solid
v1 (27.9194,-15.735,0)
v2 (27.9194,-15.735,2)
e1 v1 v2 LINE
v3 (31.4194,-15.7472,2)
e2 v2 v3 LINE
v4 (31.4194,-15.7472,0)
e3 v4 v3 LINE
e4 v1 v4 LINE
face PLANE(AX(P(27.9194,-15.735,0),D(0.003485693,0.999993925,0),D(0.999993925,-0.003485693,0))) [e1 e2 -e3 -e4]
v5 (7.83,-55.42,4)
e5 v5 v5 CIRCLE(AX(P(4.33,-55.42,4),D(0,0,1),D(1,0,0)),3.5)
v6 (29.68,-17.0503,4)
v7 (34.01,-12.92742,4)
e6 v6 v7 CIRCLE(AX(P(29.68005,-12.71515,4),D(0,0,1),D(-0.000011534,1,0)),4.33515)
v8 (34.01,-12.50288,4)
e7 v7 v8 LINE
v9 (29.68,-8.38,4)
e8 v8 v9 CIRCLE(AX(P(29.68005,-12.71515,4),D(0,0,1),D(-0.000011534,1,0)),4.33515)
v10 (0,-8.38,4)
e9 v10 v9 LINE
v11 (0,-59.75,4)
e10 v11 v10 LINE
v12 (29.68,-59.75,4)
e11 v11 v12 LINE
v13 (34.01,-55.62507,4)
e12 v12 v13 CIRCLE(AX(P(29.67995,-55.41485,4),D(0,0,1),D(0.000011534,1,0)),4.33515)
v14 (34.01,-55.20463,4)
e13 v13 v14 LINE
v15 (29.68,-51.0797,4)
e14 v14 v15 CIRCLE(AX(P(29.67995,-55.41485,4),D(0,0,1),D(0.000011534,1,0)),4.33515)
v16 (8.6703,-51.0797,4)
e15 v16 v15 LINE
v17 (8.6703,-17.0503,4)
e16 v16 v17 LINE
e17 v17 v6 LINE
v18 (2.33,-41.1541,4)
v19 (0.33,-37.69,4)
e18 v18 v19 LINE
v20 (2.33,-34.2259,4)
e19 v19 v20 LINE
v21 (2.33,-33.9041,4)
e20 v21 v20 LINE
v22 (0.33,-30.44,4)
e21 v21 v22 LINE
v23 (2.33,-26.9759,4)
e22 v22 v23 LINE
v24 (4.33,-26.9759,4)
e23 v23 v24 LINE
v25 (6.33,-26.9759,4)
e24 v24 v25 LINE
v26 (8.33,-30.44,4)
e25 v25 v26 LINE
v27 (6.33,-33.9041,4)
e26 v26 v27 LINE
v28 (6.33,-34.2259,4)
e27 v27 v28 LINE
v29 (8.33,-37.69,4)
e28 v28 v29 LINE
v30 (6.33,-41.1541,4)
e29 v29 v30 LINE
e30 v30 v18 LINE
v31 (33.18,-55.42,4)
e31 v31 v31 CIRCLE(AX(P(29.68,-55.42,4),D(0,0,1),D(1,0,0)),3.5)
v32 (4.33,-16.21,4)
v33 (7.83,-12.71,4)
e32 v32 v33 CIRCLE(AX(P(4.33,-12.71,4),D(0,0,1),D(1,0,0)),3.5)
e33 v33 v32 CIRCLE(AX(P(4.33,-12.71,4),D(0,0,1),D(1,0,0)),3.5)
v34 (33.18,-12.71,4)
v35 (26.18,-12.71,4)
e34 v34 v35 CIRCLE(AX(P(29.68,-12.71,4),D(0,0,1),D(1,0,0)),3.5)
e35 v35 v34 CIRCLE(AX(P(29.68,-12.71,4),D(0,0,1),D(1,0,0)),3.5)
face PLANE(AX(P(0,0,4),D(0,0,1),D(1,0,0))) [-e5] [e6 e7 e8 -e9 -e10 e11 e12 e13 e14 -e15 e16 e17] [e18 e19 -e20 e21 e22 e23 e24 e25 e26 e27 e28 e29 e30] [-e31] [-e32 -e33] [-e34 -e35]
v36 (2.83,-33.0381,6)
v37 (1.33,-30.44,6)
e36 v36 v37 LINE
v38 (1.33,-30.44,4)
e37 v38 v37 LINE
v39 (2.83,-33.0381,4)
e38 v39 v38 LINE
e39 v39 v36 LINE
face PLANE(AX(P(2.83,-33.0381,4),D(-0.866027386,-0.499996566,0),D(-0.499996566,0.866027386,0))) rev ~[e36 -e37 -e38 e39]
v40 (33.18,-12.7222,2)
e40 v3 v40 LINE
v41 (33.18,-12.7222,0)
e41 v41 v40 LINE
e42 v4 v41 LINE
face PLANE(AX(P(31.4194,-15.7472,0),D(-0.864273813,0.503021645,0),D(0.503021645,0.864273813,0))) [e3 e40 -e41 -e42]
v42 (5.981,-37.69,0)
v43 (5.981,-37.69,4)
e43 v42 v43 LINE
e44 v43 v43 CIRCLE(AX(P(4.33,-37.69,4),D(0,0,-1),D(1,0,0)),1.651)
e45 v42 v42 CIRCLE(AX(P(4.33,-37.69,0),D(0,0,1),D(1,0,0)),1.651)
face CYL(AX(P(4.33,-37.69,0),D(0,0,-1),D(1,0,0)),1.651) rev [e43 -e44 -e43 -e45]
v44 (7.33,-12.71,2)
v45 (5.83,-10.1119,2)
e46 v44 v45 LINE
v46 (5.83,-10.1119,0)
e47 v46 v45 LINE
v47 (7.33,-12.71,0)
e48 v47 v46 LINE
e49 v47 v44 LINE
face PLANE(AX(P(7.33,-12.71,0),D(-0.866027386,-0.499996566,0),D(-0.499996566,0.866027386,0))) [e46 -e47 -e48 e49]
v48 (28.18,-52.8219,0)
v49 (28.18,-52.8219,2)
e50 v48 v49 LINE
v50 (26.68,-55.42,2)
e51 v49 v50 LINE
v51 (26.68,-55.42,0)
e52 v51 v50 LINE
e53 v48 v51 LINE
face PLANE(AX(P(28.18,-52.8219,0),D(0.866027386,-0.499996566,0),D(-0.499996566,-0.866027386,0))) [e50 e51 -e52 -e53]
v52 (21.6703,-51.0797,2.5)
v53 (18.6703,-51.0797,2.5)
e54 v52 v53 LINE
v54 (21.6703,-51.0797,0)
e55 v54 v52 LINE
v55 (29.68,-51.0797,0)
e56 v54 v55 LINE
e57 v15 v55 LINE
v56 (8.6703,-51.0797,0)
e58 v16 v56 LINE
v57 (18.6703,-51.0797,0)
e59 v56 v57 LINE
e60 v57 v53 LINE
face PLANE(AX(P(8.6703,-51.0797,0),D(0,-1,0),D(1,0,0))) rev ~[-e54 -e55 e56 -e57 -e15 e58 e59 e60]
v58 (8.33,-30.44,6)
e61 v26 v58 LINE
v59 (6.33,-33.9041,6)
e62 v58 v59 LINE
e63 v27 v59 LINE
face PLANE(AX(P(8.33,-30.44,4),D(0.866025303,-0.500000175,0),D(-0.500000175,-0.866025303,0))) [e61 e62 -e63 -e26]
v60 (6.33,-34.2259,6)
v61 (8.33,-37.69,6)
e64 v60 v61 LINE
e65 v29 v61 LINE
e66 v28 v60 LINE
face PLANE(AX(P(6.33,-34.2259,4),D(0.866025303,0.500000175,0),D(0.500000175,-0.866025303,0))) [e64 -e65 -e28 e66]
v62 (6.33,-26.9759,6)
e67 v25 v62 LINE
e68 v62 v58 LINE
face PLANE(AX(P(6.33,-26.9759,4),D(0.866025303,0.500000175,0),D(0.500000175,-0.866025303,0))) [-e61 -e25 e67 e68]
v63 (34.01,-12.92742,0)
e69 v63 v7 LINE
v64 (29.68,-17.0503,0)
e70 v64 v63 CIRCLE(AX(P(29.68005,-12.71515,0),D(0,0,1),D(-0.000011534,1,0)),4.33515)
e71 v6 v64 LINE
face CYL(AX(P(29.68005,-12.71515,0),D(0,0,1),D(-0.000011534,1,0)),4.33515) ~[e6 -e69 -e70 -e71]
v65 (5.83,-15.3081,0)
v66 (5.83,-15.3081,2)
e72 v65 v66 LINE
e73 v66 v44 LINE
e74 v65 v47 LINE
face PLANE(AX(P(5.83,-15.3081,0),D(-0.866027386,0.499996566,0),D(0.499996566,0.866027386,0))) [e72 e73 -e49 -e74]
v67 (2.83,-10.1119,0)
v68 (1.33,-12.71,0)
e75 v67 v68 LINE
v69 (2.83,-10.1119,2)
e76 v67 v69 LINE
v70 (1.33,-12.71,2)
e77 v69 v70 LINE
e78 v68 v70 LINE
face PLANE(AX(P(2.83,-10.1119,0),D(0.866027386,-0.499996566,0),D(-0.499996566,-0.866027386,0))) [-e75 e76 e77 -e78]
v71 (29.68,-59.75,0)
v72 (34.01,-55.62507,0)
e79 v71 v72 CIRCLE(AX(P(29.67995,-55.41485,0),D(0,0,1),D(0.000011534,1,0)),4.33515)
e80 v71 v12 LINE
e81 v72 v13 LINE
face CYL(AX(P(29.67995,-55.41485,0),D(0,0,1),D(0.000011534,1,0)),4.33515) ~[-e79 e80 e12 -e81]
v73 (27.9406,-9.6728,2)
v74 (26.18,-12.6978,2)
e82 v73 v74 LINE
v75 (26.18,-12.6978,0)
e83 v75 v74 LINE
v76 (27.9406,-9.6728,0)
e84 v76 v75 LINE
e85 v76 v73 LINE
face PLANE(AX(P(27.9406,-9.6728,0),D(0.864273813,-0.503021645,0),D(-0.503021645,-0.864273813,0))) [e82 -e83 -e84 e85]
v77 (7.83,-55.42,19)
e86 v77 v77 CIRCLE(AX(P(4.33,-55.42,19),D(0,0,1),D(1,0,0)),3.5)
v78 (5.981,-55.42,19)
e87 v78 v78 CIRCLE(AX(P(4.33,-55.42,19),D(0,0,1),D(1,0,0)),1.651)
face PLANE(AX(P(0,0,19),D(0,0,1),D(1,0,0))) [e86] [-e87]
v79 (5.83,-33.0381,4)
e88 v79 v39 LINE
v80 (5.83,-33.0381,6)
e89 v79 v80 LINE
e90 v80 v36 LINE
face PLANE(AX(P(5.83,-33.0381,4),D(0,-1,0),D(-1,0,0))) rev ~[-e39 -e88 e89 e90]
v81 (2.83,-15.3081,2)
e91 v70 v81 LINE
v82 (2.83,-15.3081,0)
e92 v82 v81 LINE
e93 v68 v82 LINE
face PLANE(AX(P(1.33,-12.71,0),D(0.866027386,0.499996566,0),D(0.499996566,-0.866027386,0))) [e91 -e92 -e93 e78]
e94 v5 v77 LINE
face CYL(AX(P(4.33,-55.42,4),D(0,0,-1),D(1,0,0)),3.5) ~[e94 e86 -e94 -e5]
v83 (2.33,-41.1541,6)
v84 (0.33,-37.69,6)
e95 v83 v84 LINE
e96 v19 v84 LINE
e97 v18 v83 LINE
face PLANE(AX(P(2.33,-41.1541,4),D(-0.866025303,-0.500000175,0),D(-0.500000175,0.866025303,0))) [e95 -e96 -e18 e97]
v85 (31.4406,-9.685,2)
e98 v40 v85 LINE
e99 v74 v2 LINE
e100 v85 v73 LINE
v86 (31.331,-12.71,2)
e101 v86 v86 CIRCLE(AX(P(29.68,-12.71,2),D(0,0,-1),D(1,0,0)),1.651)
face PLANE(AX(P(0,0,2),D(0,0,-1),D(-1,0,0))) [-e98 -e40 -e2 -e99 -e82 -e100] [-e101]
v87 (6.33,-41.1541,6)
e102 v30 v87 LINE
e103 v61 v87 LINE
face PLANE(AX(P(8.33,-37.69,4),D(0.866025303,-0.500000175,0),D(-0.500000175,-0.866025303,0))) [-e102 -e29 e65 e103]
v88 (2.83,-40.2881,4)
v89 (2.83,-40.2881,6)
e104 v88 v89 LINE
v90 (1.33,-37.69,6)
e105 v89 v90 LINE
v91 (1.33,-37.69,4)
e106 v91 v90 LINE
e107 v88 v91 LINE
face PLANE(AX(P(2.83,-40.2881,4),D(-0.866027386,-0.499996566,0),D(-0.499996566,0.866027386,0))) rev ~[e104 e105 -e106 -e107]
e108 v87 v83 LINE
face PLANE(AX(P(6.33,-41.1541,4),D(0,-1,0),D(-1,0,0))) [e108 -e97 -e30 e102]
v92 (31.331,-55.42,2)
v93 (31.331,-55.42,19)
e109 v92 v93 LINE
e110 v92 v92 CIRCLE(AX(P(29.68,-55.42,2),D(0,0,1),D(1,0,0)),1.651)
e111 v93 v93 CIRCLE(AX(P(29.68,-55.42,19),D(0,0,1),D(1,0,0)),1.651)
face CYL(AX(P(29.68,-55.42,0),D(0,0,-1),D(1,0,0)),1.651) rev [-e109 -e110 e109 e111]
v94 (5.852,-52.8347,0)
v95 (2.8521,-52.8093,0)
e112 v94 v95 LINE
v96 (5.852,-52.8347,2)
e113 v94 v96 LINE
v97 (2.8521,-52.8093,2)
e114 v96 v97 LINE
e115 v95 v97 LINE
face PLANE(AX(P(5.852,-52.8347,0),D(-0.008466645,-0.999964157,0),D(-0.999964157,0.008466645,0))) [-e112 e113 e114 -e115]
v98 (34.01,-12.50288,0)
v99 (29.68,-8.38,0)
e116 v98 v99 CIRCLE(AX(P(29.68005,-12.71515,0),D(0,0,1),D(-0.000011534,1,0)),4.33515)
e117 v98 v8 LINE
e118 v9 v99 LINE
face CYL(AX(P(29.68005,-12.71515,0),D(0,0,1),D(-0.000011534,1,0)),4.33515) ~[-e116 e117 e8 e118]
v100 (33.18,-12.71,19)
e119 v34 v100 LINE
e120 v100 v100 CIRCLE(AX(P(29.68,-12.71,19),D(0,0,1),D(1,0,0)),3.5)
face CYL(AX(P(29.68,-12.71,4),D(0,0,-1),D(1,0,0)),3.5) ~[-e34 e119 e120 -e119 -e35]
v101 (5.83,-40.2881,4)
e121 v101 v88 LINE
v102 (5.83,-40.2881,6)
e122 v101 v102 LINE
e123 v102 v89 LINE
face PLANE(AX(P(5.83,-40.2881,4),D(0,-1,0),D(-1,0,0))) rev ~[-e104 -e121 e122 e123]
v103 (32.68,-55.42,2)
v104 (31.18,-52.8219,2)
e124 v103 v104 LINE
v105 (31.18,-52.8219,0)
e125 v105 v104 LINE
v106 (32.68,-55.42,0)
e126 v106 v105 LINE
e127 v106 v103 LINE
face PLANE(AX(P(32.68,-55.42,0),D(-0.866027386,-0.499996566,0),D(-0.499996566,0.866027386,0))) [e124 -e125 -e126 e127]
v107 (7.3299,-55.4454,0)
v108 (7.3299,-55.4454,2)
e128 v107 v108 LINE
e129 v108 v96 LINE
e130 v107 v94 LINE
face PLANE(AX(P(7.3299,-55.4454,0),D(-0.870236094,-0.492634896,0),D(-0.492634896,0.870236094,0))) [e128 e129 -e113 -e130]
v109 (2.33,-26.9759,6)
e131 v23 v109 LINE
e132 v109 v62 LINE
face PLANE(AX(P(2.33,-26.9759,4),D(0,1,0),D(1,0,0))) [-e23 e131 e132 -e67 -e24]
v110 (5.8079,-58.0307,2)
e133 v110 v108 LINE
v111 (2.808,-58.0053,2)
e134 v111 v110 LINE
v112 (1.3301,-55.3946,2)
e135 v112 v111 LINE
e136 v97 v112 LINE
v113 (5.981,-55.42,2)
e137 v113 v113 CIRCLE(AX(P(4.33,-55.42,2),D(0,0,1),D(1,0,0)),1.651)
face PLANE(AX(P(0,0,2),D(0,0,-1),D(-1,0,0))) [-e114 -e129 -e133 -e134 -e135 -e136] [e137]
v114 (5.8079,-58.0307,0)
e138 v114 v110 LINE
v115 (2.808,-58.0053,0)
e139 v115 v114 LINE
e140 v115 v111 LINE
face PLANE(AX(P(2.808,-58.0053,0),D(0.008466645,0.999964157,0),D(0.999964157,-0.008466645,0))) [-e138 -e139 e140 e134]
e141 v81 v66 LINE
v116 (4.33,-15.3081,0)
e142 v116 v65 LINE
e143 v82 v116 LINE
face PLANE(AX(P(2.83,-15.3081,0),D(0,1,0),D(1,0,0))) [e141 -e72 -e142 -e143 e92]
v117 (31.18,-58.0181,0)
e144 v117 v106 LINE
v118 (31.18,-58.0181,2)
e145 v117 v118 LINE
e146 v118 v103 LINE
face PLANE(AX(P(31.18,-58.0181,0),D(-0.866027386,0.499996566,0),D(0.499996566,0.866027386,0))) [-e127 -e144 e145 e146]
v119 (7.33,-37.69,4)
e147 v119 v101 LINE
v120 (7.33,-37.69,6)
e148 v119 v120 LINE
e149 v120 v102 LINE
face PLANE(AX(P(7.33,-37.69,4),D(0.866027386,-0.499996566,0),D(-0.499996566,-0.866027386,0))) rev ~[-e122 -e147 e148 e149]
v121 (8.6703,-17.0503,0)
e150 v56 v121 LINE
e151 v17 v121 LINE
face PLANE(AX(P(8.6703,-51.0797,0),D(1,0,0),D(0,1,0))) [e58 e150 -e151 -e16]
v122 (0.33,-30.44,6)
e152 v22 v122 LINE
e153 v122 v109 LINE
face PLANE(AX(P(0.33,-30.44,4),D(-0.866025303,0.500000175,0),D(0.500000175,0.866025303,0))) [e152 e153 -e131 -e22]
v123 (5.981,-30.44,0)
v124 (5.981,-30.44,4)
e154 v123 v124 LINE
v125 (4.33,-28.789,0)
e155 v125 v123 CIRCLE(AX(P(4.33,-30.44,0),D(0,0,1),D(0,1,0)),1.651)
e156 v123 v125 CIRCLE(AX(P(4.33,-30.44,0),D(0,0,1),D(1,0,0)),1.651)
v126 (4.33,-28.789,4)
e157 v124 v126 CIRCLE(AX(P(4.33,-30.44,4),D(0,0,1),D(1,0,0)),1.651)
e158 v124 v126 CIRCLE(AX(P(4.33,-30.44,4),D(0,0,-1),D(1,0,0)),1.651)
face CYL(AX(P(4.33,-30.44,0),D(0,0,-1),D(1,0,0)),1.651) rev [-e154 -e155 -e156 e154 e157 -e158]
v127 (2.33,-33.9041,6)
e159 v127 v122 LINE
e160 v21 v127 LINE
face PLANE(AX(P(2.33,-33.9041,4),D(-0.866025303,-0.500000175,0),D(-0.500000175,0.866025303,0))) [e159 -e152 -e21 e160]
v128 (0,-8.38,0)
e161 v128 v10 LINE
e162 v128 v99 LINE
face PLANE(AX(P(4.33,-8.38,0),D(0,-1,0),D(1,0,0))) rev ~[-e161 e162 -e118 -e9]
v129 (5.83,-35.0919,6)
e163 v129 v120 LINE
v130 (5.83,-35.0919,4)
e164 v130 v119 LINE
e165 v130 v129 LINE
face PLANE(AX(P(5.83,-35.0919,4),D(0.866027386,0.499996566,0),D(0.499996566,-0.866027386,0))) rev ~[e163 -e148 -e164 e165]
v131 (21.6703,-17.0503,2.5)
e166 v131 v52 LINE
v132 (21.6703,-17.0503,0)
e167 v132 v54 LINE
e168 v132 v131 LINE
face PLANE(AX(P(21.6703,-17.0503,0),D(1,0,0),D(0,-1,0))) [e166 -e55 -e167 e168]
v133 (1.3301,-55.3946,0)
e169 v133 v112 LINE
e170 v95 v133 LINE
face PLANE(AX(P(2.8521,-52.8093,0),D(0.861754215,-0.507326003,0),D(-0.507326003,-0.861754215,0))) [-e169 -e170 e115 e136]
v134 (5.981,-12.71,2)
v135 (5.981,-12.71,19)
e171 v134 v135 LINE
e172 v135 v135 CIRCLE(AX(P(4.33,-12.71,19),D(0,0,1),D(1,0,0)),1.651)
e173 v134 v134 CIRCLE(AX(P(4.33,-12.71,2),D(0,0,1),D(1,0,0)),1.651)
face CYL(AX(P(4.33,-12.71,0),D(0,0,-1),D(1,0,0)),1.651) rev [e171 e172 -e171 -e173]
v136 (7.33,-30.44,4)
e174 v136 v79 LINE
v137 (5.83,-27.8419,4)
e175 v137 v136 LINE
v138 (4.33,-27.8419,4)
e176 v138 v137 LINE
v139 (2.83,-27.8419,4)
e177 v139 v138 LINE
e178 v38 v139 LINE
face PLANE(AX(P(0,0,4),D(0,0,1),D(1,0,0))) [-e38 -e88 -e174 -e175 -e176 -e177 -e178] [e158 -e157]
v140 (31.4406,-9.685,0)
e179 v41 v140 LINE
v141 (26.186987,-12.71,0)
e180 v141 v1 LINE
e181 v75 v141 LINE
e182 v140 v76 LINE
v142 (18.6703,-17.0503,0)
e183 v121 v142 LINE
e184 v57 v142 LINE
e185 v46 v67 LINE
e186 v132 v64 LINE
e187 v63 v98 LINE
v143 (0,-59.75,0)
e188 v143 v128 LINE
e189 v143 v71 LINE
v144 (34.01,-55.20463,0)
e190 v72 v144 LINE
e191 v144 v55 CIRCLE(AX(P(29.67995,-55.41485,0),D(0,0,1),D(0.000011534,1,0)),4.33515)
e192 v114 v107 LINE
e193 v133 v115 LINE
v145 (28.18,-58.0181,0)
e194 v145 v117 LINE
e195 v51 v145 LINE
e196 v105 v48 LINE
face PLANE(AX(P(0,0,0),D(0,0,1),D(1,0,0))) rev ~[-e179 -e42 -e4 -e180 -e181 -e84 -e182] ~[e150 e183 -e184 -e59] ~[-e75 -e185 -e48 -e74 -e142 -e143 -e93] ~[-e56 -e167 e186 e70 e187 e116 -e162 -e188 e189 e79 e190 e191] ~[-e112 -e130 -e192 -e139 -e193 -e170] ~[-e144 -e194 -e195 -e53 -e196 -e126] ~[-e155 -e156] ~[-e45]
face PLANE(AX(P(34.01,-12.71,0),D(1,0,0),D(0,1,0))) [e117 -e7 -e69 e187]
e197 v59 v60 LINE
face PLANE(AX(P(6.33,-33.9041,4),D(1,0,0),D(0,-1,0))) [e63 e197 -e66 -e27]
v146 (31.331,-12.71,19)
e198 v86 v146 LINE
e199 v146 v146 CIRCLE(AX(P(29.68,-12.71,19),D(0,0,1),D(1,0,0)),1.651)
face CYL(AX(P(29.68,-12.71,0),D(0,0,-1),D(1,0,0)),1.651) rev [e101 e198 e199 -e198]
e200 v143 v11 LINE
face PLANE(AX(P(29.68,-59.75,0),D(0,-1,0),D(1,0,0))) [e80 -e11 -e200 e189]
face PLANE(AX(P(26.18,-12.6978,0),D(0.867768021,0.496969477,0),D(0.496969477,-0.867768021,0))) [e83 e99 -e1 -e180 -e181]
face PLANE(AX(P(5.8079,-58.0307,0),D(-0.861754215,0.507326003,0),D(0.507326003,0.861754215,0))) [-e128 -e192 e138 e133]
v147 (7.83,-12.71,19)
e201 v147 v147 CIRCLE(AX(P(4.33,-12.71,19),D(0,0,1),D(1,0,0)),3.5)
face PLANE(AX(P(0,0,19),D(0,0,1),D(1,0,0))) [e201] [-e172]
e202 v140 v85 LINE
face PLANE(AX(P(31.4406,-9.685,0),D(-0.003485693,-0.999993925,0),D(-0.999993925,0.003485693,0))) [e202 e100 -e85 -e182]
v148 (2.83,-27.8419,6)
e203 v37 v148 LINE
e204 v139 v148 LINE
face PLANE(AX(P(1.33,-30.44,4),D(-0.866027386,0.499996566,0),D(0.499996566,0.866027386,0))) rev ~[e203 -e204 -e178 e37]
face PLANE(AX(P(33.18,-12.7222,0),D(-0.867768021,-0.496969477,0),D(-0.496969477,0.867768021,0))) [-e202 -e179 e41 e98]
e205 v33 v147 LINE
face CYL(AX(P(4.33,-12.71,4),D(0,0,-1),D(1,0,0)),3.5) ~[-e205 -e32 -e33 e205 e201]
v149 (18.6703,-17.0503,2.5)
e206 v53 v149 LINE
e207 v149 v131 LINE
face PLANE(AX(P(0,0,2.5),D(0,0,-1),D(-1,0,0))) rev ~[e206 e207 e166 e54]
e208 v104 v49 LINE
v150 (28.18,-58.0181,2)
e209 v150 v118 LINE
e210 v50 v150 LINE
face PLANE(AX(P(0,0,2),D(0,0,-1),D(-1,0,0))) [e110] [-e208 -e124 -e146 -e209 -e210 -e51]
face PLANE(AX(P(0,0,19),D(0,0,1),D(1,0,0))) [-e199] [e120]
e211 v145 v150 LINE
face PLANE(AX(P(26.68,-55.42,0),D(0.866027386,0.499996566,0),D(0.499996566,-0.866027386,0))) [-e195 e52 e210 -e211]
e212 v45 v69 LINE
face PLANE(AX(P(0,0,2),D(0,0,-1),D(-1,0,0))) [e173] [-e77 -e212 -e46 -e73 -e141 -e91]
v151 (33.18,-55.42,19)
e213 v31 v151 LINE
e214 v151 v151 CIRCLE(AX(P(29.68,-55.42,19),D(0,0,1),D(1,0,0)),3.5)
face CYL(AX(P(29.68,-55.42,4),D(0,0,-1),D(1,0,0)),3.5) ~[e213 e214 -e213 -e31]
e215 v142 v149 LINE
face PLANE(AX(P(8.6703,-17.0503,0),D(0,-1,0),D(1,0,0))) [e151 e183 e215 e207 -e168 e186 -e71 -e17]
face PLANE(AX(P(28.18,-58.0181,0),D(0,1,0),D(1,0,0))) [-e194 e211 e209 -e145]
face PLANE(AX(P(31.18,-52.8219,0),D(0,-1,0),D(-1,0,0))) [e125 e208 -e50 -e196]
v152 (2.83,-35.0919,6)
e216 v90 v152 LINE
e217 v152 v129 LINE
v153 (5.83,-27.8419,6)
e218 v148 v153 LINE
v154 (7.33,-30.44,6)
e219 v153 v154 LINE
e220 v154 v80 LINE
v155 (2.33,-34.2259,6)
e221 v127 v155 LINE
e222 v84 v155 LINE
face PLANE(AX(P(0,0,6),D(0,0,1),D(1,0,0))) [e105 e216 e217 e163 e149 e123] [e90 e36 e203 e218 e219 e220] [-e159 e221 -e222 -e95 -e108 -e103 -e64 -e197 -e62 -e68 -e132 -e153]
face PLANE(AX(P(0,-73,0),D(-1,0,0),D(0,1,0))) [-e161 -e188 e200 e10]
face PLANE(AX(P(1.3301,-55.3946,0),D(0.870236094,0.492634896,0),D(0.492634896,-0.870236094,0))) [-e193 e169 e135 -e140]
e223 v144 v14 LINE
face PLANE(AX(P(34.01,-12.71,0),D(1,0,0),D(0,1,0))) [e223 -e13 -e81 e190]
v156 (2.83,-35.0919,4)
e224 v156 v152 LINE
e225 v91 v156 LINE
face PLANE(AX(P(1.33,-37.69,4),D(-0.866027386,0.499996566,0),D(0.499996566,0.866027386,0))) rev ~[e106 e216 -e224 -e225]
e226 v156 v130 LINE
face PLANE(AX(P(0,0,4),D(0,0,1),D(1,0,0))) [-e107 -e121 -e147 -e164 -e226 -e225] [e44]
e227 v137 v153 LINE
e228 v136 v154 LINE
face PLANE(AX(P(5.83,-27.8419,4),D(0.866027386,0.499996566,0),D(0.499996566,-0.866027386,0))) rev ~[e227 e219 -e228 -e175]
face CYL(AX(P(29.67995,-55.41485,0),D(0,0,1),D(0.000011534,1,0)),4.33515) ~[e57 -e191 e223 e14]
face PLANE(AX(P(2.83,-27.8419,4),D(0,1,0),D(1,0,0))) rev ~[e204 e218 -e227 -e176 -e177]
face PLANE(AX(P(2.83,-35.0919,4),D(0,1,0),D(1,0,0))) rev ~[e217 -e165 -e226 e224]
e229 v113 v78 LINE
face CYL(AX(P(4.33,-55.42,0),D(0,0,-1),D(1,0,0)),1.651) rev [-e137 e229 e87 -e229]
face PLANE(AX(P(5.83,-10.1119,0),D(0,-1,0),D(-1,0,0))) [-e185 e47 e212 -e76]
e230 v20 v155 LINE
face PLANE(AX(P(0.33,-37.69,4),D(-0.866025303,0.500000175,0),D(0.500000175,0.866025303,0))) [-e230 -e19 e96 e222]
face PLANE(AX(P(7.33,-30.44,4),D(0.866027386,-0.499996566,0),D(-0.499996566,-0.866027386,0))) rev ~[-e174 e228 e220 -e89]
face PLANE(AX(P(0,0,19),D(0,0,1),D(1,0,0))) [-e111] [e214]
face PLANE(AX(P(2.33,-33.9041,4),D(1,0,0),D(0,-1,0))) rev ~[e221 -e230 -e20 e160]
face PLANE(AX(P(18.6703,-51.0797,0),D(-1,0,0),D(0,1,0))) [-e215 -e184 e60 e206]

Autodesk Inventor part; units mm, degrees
ref_plane "YZ Plane" through (0, 0, 0) normal (1, 0, 0) x (0, 1, 0)
ref_plane "XZ Plane" through (0, 0, 0) normal (0, 1, 0) x (-1, 0, 0)
ref_plane "XY Plane" through (0, 0, 0) normal (0, 0, 1) x (1, 0, 0)
sketch "Sketch1" plane through (0, 0, 0) normal (0, 0, 1) x (1, 0, 0)
  line L0 (0, 0) -> (41.5, 0)
  line L1 (41.5, 0) -> (41.5, -73)
  line L2 (41.5, -73) -> (0, -73)
  line L3 (0, -73) -> (0, 0)
  line L4 (0, -73) -> (3.11, -73)
  line L5 (0, -73) -> (3.11, -73) construction
  line L6 (3.11, -73) -> (3.11, -69.85)
  line L7 (3.11, -73) -> (6.26, -73) construction
  line L8 (3.11, -69.85) -> (14.54, -69.85)
  line L9 (14.54, -69.85) -> (19.65, -69.85)
  line L10 (19.65, -69.85) -> (31.08, -69.85)
  circle A0 centre (3.11, -69.85) radius 1.6
  circle A1 centre (14.54, -69.85) radius 1.6
  circle A2 centre (19.65, -69.85) radius 1.6
  circle A3 centre (31.08, -69.85) radius 1.6
  line L11 (3.11, -69.85) -> (3.11, -55.42)
  line L12 (3.11, -69.85) -> (17.54, -69.85) construction
  line L13 (0, -73) -> (4.33, -73)
  line L14 (0, -73) -> (4.33, -73) construction
  line L15 (4.33, -73) -> (4.33, -53.49)
  line L16 (3.11, -55.42) -> (6.6479, -55.42)
  circle A4 centre (4.33, -55.42) radius 1.651
  line L17 (4.33, -55.42) -> (4.33, -37.69)
  line L18 (4.33, -55.42) -> (22.06, -55.42) construction
  line L19 (4.33, -55.42) -> (29.68, -55.42)
  line L20 (4.33, -55.42) -> (29.68, -55.42) construction
  circle A5 centre (4.33, -37.69) radius 1.651
  circle A6 centre (29.68, -55.42) radius 1.651
  line L21 (4.33, -37.69) -> (39.0376, -37.69)
  line L22 (29.68, -55.42) -> (29.68, -25.3245)
  circle A7 centre (29.68, -37.69) radius 1.651
  line L23 (4.33, -37.69) -> (4.33, -30.44)
  line L24 (4.33, -37.69) -> (11.58, -37.69) construction
  line L25 (4.33, -30.44) -> (4.33, -12.71)
  line L26 (4.33, -30.44) -> (29.68, -30.44)
  line L27 (4.33, -30.44) -> (29.68, -30.44) construction
  line L28 (4.33, -12.71) -> (29.68, -12.71)
  circle A8 centre (29.68, -12.71) radius 1.651
  circle A9 centre (4.33, -12.71) radius 1.651
  circle A10 centre (4.33, -30.44) radius 1.651
  circle A11 centre (29.68, -30.44) radius 1.651
  line L29 (29.68, -12.71) -> (29.68, -11.3536)
  dimension "d0" = 41.5
  dimension "d1" = 73
  dimension "d2" = 3.11
  dimension "d3" = 0
  dimension "d4" = 3.15
  dimension "d5" = 90
  dimension "d6" = 11.43
  dimension "d7" = 90
  dimension "d9" = 5.11
  dimension "d10" = 11.43
  dimension "d11" = 180
  dimension "d12" = 3.2
  dimension "d13" = 3.2
  dimension "d14" = 3.2
  dimension "d15" = 3.2
  dimension "d18" = 14.43
  dimension "d19" = 90
  dimension "d20" = 4.33
  dimension "d21" = 0
  dimension "d22" = 3.302
  dimension "d23" = 17.73
  dimension "d24" = 90
  dimension "d25" = 25.35
  dimension "d26" = 0
  dimension "d27" = 3.302
  dimension "d28" = 3.302
  dimension "d29" = 3.302
  dimension "d30" = 7.25
  dimension "d31" = 90
  dimension "d32" = 17.73
  dimension "d33" = 180
  dimension "d34" = 25.35
  dimension "d35" = 0
  dimension "d36" = 25.35
  dimension "d37" = 3.302
  dimension "d38" = 3.302
  dimension "d39" = 3.302
  dimension "d40" = 3.302
extrude "Extrusion2" add sketch "Sketch1" along normal blind 4 contours L0 L1 L2 L15 A0 A4 L16 L19 A6 L22 A7 A11 L26 A10 L23 A5 L17 L11 L6 L3 | L6 A0 L15 L2 | L11 A4 L15 A0 | L15 L17 A5 L21 A7 L22 A6 L19 L16 A4 | L23 A10 L26 A11 L22 A7 L21 A5
sketch "Sketch3" plane through (0, 0, 4) normal (0, 0, 1) x (1, 0, 0)
  circle A0 centre (4.33, -55.42) radius 1.651 projected
  circle A1 centre (4.33, -55.42) radius 3.5
  circle A2 centre (29.68, -55.42) radius 1.651 projected
  circle A3 centre (29.68, -55.42) radius 3.5
  circle A4 centre (4.33, -12.71) radius 1.651 projected
  circle A5 centre (4.33, -12.71) radius 3.5
  circle A6 centre (29.68, -12.71) radius 1.651 projected
  circle A7 centre (29.68, -12.71) radius 3.5
  point P0 (0, 0)
  dimension "d46" = 7
  dimension "d47" = 7
  dimension "d48" = 7
  dimension "d49" = 7
extrude "Extrusion4" add sketch "Sketch3" along normal blind 15
sketch "Sketch8" plane through (0, 0, 0) normal (0, 0, -1) x (-1, 0, 0)
  circle A0 centre (-4.33, -12.71) radius 1.651 projected
  circle A1 centre (-4.33, -12.71) radius 3
  circle A2 centre (-29.68, -12.71) radius 1.651 projected
  circle A3 centre (-29.68, -12.71) radius 3
  circle A4 centre (-29.68, -55.42) radius 1.651 projected
  circle A5 centre (-29.68, -55.42) radius 3
  circle A6 centre (-4.33, -55.42) radius 1.651 projected
  circle A7 centre (-4.33, -55.42) radius 3
  line L0 (-1.33, -12.71) -> (-2.83, -15.3081)
  line L1 (-2.83, -15.3081) -> (-5.83, -15.3081)
  line L2 (-5.83, -15.3081) -> (-7.33, -12.71)
  line L3 (-7.33, -12.71) -> (-5.83, -10.1119)
  line L4 (-5.83, -10.1119) -> (-2.83, -10.1119)
  line L5 (-2.83, -10.1119) -> (-1.33, -12.71)
  circle A8 centre (-29.68, -12.71) radius 3.5 projected
  line L6 (-26.18, -12.6978) -> (-27.9194, -15.735)
  line L7 (-27.9194, -15.735) -> (-31.4194, -15.7472)
  line L8 (-31.4194, -15.7472) -> (-33.18, -12.7222)
  line L9 (-33.18, -12.7222) -> (-31.4406, -9.685)
  line L10 (-31.4406, -9.685) -> (-27.9406, -9.6728)
  line L11 (-27.9406, -9.6728) -> (-26.18, -12.6978)
  line L12 (-26.68, -55.42) -> (-28.18, -58.0181)
  line L13 (-28.18, -58.0181) -> (-31.18, -58.0181)
  line L14 (-31.18, -58.0181) -> (-32.68, -55.42)
  line L15 (-32.68, -55.42) -> (-31.18, -52.8219)
  line L16 (-31.18, -52.8219) -> (-28.18, -52.8219)
  line L17 (-28.18, -52.8219) -> (-26.68, -55.42)
  line L18 (-1.3301, -55.3946) -> (-2.808, -58.0053)
  line L19 (-2.808, -58.0053) -> (-5.8079, -58.0307)
  line L20 (-5.8079, -58.0307) -> (-7.3299, -55.4454)
  line L21 (-7.3299, -55.4454) -> (-5.852, -52.8347)
  line L22 (-5.852, -52.8347) -> (-2.8521, -52.8093)
  line L23 (-2.8521, -52.8093) -> (-1.3301, -55.3946)
  point P0 (0, 0)
  dimension "d53" = 6
  dimension "d55" = 6
  dimension "d56" = 6
  dimension "d54" = 6
extrude "Extrusion5" cut sketch "Sketch8" against normal blind 2 contours L0 L1 L2 L3 L4 L5 | A2 | A3 | L12 L13 L14 L15 L16 L17 | L18 L19 L20 L21 L22 L23 | L6 L7 L8 L9 L10 L11
sketch "Sketch9" plane through (0, 0, 4) normal (0, 0, 1) x (1, 0, 0)
  circle A0 centre (4.33, -30.44) radius 1.651 projected
  circle A1 centre (4.33, -30.44) radius 1.651
  circle A2 centre (4.33, -37.69) radius 1.651 projected
  circle A3 centre (4.33, -37.69) radius 1.651
  line L0 (7.33, -30.44) -> (5.83, -33.0381)
  line L1 (5.83, -33.0381) -> (2.83, -33.0381)
  line L2 (2.83, -33.0381) -> (1.33, -30.44)
  line L3 (1.33, -30.44) -> (2.83, -27.8419)
  line L4 (2.83, -27.8419) -> (5.83, -27.8419)
  line L5 (5.83, -27.8419) -> (7.33, -30.44)
  line L6 (7.33, -37.69) -> (5.83, -40.2881)
  line L7 (5.83, -40.2881) -> (2.83, -40.2881)
  line L8 (2.83, -40.2881) -> (1.33, -37.69)
  line L9 (1.33, -37.69) -> (2.83, -35.0919)
  line L10 (2.83, -35.0919) -> (5.83, -35.0919)
  line L11 (5.83, -35.0919) -> (7.33, -37.69)
  line L12 (8.33, -30.44) -> (6.33, -33.9041)
  line L13 (6.33, -33.9041) -> (2.33, -33.9041)
  line L14 (2.33, -33.9041) -> (0.33, -30.44)
  line L15 (0.33, -30.44) -> (2.33, -26.9759)
  line L16 (2.33, -26.9759) -> (6.33, -26.9759)
  line L17 (6.33, -26.9759) -> (8.33, -30.44)
  line L18 (8.33, -37.69) -> (6.33, -41.1541)
  line L19 (6.33, -41.1541) -> (2.33, -41.1541)
  line L20 (2.33, -41.1541) -> (0.33, -37.69)
  line L21 (0.33, -37.69) -> (2.33, -34.2259)
  line L22 (2.33, -34.2259) -> (6.33, -34.2259)
  line L23 (6.33, -34.2259) -> (8.33, -37.69)
  line L24 (6.33, -33.9041) -> (6.33, -34.2259)
  line L25 (2.33, -33.9041) -> (2.33, -34.2259)
  point P0 (0, 0)
  dimension "d59" = 3.302
  dimension "d60" = 3.302
extrude "Extrusion6" add sketch "Sketch9" along normal blind 2 contours L12 L13 L14 L15 L16 L17 | L24 L22 L25 L13 | L23 L18 L19 L20 L21 L22
sketch "Sketch10" plane through (0, 0, 0) normal (0, 0, -1) x (-1, 0, 0)
  circle A0 centre (-4.33, -55.42) radius 1.651 projected
  circle A1 centre (-4.33, -12.71) radius 3.5 projected
  circle A2 centre (-4.33, -12.71) radius 4.33
  line L0 (-4.33, -8.38) -> (6.0992, -8.38)
  line L1 (-4.33, -8.38) -> (-46.273, -8.38)
  circle A3 centre (-29.68, -55.42) radius 1.651 projected
  circle A4 centre (-29.68, -12.71) radius 1.651 projected
  circle A5 centre (-29.68, -12.71) radius 4.33
  line L2 (-34.01, -12.71) -> (-34.01, 23.2585)
  circle A6 centre (-4.33, -55.42) radius 4.33
  line L3 (-34.01, -12.71) -> (-34.01, -66.3278)
  line L4 (-4.33, -59.75) -> (-38.3543, -59.75)
  circle A7 centre (-29.68, -55.42) radius 4.33
  line L5 (-29.68, -55.42) -> (-29.68, -12.71)
  circle A8 centre (-4.33, -12.71) radius 1.651 projected
  line L6 (-4.33, -12.71) -> (-29.68, -12.71)
  line L7 (-18.2288, -59.75) -> (-46.273, -59.75)
  line L8 (-46.273, -59.75) -> (-46.273, -78.0952)
  line L9 (-46.273, -78.0952) -> (-18.2288, -78.0952)
  line L10 (-18.2288, -78.0952) -> (-18.2288, -59.75)
  line L11 (-18.2288, -59.75) -> (2.2846, -59.75)
  line L12 (2.2846, -59.75) -> (2.2846, -79.2844)
  line L13 (2.2846, -79.2844) -> (-18.2288, -79.2844)
  line L14 (-18.2288, -79.2844) -> (-18.2288, -59.75)
  line L15 (-34.01, -59.75) -> (-49.3705, -59.75)
  line L16 (-49.3705, -59.75) -> (-49.3705, 18.5259)
  line L17 (-49.3705, 18.5259) -> (-34.01, 18.5259)
  line L18 (-34.01, 18.5259) -> (-34.01, -59.75)
  line L19 (-34.01, -8.38) -> (8.0076, -8.38)
  line L20 (8.0076, -8.38) -> (8.0076, 15.8503)
  line L21 (8.0076, 15.8503) -> (-34.01, 15.8503)
  line L22 (-34.01, 15.8503) -> (-34.01, -8.38)
  point P0 (0, 0)
extrude "Extrusion7" cut sketch "Sketch10" along normal mid plane 100 contours L1 L2 L21 L20 L19 L0 | L2 L3 L4 L7 L15 L16 L17 | L4 L10 L9 L8 L7 | L4 L11 L12 L13 L14 L10
sketch "Sketch11" plane through (0, 0, 0) normal (0, 0, -1) x (-1, 0, 0)
  line L0 (-34.01, -59.75) -> (0, -59.75) projected
  line L1 (0, -8.38) -> (-34.01, -8.38) projected
  circle A0 centre (-4.33, -55.42) radius 1.651 projected
  circle A1 centre (-4.33, -55.42) radius 4.3403
  circle A2 centre (-4.33, -12.71) radius 1.651 projected
  circle A3 centre (-4.33, -12.71) radius 4.3403
  line L2 (-4.3352, -51.0797) -> (-29.68, -51.0797)
  line L3 (-29.68, -59.75) -> (-4.3352, -59.75)
  line L4 (-4.3352, -59.75) -> (-4.3352, -51.0797)
  line L5 (-4.3352, -17.0503) -> (-29.68, -17.0503)
  line L6 (-29.68, -8.38) -> (-4.3352, -8.38)
  line L7 (-4.3352, -8.38) -> (-4.3352, -17.0503)
  line L8 (-4.3352, -51.0797) -> (-8.6703, -51.0797)
  line L9 (-8.6703, -51.0797) -> (-8.6703, -12.7152)
  line L10 (-8.6703, -12.7152) -> (-4.3352, -12.7152)
  line L11 (-4.3352, -12.7152) -> (-4.3352, -51.0797)
  line L12 (-34.01, -8.38) -> (-34.01, -59.75) projected
  line L13 (-8.6703, -17.0503) -> (-34.01, -17.0503)
  line L14 (-34.01, -17.0503) -> (-34.01, -51.0797)
  line L15 (-34.01, -51.0797) -> (-8.6703, -51.0797)
  line L16 (-8.6703, -51.0797) -> (-8.6703, -17.0503)
  line L17 (-29.68, -59.75) -> (-36.7019, -59.75)
  line L18 (-36.7019, -59.75) -> (-36.7019, -51.0797)
  line L19 (-36.7019, -51.0797) -> (-29.68, -51.0797)
  line L20 (-29.68, -17.0503) -> (-34.01, -17.0503)
  line L21 (-34.01, -17.0503) -> (-34.01, -8.38)
  line L22 (-34.01, -8.38) -> (-29.68, -8.38)
  arc A4 (-29.68, -51.0797) -> (-29.68, -59.75) centre (-29.68, -55.4148) ccw
  arc A5 (-29.68, -8.38) -> (-29.68, -17.0503) centre (-29.68, -12.7152) ccw
  line L23 (-29.68, -17.0503) -> (-40.5173, -17.0503)
  line L24 (-40.5173, -17.0503) -> (-40.5173, -8.38)
  line L25 (-40.5173, -8.38) -> (-29.68, -8.38)
  line L26 (-8.6703, -51.0797) -> (-41.5169, -51.0797)
  line L27 (-41.5169, -51.0797) -> (-41.5169, -17.0503)
  line L28 (-41.5169, -17.0503) -> (-8.6703, -17.0503)
  line L29 (-8.6703, -17.0503) -> (-8.6703, -51.0797)
  arc A6 (-29.68, -8.38) -> (-29.68, -17.0503) centre (-29.68, -12.7152) ccw
  line L30 (-29.68, -8.38) -> (-34.01, -8.38)
  point P0 (0, 0)
  point P1 (-29.68, -55.42)
extrude "Extrusion8" cut sketch "Sketch11" along normal mid plane 100 contours L12 A4 L0 | L17 L18 L19 L12 A4 | L12 L15 A4 | L12 L13 L5 L9 L2 L15 | L23 L24 L25 L12 A5 | L12 A5 L13 | L12 L1 A5
sketch "Sketch12" plane through (0, 0, 0) normal (0, 0, -1) x (-1, 0, 0)
  line L0 (-29.68, -51.0797) -> (-8.6703, -51.0797) projected
  line L1 (-8.6703, -17.0503) -> (-29.68, -17.0503) projected
  line L2 (-8.6703, -51.0797) -> (-18.6703, -51.0797)
  line L3 (-18.6703, -51.0797) -> (-18.6703, -17.0503)
  line L4 (-18.6703, -17.0503) -> (-8.6703, -17.0503)
  line L5 (-8.6703, -17.0503) -> (-8.6703, -51.0797)
  line L6 (-18.6703, -17.0503) -> (-21.6703, -17.0503)
  line L7 (-21.6703, -17.0503) -> (-21.6703, -51.0797)
  line L8 (-21.6703, -51.0797) -> (-18.6703, -51.0797)
  line L9 (-18.6703, -51.0797) -> (-18.6703, -17.0503)
  point P0 (0, 0)
  dimension "d71" = 10
  dimension "d72" = 3
extrude "Extrusion9" add sketch "Sketch12" against normal blind 2.5 contours L7 L1 L3 L0
properties part number "mountMount"
